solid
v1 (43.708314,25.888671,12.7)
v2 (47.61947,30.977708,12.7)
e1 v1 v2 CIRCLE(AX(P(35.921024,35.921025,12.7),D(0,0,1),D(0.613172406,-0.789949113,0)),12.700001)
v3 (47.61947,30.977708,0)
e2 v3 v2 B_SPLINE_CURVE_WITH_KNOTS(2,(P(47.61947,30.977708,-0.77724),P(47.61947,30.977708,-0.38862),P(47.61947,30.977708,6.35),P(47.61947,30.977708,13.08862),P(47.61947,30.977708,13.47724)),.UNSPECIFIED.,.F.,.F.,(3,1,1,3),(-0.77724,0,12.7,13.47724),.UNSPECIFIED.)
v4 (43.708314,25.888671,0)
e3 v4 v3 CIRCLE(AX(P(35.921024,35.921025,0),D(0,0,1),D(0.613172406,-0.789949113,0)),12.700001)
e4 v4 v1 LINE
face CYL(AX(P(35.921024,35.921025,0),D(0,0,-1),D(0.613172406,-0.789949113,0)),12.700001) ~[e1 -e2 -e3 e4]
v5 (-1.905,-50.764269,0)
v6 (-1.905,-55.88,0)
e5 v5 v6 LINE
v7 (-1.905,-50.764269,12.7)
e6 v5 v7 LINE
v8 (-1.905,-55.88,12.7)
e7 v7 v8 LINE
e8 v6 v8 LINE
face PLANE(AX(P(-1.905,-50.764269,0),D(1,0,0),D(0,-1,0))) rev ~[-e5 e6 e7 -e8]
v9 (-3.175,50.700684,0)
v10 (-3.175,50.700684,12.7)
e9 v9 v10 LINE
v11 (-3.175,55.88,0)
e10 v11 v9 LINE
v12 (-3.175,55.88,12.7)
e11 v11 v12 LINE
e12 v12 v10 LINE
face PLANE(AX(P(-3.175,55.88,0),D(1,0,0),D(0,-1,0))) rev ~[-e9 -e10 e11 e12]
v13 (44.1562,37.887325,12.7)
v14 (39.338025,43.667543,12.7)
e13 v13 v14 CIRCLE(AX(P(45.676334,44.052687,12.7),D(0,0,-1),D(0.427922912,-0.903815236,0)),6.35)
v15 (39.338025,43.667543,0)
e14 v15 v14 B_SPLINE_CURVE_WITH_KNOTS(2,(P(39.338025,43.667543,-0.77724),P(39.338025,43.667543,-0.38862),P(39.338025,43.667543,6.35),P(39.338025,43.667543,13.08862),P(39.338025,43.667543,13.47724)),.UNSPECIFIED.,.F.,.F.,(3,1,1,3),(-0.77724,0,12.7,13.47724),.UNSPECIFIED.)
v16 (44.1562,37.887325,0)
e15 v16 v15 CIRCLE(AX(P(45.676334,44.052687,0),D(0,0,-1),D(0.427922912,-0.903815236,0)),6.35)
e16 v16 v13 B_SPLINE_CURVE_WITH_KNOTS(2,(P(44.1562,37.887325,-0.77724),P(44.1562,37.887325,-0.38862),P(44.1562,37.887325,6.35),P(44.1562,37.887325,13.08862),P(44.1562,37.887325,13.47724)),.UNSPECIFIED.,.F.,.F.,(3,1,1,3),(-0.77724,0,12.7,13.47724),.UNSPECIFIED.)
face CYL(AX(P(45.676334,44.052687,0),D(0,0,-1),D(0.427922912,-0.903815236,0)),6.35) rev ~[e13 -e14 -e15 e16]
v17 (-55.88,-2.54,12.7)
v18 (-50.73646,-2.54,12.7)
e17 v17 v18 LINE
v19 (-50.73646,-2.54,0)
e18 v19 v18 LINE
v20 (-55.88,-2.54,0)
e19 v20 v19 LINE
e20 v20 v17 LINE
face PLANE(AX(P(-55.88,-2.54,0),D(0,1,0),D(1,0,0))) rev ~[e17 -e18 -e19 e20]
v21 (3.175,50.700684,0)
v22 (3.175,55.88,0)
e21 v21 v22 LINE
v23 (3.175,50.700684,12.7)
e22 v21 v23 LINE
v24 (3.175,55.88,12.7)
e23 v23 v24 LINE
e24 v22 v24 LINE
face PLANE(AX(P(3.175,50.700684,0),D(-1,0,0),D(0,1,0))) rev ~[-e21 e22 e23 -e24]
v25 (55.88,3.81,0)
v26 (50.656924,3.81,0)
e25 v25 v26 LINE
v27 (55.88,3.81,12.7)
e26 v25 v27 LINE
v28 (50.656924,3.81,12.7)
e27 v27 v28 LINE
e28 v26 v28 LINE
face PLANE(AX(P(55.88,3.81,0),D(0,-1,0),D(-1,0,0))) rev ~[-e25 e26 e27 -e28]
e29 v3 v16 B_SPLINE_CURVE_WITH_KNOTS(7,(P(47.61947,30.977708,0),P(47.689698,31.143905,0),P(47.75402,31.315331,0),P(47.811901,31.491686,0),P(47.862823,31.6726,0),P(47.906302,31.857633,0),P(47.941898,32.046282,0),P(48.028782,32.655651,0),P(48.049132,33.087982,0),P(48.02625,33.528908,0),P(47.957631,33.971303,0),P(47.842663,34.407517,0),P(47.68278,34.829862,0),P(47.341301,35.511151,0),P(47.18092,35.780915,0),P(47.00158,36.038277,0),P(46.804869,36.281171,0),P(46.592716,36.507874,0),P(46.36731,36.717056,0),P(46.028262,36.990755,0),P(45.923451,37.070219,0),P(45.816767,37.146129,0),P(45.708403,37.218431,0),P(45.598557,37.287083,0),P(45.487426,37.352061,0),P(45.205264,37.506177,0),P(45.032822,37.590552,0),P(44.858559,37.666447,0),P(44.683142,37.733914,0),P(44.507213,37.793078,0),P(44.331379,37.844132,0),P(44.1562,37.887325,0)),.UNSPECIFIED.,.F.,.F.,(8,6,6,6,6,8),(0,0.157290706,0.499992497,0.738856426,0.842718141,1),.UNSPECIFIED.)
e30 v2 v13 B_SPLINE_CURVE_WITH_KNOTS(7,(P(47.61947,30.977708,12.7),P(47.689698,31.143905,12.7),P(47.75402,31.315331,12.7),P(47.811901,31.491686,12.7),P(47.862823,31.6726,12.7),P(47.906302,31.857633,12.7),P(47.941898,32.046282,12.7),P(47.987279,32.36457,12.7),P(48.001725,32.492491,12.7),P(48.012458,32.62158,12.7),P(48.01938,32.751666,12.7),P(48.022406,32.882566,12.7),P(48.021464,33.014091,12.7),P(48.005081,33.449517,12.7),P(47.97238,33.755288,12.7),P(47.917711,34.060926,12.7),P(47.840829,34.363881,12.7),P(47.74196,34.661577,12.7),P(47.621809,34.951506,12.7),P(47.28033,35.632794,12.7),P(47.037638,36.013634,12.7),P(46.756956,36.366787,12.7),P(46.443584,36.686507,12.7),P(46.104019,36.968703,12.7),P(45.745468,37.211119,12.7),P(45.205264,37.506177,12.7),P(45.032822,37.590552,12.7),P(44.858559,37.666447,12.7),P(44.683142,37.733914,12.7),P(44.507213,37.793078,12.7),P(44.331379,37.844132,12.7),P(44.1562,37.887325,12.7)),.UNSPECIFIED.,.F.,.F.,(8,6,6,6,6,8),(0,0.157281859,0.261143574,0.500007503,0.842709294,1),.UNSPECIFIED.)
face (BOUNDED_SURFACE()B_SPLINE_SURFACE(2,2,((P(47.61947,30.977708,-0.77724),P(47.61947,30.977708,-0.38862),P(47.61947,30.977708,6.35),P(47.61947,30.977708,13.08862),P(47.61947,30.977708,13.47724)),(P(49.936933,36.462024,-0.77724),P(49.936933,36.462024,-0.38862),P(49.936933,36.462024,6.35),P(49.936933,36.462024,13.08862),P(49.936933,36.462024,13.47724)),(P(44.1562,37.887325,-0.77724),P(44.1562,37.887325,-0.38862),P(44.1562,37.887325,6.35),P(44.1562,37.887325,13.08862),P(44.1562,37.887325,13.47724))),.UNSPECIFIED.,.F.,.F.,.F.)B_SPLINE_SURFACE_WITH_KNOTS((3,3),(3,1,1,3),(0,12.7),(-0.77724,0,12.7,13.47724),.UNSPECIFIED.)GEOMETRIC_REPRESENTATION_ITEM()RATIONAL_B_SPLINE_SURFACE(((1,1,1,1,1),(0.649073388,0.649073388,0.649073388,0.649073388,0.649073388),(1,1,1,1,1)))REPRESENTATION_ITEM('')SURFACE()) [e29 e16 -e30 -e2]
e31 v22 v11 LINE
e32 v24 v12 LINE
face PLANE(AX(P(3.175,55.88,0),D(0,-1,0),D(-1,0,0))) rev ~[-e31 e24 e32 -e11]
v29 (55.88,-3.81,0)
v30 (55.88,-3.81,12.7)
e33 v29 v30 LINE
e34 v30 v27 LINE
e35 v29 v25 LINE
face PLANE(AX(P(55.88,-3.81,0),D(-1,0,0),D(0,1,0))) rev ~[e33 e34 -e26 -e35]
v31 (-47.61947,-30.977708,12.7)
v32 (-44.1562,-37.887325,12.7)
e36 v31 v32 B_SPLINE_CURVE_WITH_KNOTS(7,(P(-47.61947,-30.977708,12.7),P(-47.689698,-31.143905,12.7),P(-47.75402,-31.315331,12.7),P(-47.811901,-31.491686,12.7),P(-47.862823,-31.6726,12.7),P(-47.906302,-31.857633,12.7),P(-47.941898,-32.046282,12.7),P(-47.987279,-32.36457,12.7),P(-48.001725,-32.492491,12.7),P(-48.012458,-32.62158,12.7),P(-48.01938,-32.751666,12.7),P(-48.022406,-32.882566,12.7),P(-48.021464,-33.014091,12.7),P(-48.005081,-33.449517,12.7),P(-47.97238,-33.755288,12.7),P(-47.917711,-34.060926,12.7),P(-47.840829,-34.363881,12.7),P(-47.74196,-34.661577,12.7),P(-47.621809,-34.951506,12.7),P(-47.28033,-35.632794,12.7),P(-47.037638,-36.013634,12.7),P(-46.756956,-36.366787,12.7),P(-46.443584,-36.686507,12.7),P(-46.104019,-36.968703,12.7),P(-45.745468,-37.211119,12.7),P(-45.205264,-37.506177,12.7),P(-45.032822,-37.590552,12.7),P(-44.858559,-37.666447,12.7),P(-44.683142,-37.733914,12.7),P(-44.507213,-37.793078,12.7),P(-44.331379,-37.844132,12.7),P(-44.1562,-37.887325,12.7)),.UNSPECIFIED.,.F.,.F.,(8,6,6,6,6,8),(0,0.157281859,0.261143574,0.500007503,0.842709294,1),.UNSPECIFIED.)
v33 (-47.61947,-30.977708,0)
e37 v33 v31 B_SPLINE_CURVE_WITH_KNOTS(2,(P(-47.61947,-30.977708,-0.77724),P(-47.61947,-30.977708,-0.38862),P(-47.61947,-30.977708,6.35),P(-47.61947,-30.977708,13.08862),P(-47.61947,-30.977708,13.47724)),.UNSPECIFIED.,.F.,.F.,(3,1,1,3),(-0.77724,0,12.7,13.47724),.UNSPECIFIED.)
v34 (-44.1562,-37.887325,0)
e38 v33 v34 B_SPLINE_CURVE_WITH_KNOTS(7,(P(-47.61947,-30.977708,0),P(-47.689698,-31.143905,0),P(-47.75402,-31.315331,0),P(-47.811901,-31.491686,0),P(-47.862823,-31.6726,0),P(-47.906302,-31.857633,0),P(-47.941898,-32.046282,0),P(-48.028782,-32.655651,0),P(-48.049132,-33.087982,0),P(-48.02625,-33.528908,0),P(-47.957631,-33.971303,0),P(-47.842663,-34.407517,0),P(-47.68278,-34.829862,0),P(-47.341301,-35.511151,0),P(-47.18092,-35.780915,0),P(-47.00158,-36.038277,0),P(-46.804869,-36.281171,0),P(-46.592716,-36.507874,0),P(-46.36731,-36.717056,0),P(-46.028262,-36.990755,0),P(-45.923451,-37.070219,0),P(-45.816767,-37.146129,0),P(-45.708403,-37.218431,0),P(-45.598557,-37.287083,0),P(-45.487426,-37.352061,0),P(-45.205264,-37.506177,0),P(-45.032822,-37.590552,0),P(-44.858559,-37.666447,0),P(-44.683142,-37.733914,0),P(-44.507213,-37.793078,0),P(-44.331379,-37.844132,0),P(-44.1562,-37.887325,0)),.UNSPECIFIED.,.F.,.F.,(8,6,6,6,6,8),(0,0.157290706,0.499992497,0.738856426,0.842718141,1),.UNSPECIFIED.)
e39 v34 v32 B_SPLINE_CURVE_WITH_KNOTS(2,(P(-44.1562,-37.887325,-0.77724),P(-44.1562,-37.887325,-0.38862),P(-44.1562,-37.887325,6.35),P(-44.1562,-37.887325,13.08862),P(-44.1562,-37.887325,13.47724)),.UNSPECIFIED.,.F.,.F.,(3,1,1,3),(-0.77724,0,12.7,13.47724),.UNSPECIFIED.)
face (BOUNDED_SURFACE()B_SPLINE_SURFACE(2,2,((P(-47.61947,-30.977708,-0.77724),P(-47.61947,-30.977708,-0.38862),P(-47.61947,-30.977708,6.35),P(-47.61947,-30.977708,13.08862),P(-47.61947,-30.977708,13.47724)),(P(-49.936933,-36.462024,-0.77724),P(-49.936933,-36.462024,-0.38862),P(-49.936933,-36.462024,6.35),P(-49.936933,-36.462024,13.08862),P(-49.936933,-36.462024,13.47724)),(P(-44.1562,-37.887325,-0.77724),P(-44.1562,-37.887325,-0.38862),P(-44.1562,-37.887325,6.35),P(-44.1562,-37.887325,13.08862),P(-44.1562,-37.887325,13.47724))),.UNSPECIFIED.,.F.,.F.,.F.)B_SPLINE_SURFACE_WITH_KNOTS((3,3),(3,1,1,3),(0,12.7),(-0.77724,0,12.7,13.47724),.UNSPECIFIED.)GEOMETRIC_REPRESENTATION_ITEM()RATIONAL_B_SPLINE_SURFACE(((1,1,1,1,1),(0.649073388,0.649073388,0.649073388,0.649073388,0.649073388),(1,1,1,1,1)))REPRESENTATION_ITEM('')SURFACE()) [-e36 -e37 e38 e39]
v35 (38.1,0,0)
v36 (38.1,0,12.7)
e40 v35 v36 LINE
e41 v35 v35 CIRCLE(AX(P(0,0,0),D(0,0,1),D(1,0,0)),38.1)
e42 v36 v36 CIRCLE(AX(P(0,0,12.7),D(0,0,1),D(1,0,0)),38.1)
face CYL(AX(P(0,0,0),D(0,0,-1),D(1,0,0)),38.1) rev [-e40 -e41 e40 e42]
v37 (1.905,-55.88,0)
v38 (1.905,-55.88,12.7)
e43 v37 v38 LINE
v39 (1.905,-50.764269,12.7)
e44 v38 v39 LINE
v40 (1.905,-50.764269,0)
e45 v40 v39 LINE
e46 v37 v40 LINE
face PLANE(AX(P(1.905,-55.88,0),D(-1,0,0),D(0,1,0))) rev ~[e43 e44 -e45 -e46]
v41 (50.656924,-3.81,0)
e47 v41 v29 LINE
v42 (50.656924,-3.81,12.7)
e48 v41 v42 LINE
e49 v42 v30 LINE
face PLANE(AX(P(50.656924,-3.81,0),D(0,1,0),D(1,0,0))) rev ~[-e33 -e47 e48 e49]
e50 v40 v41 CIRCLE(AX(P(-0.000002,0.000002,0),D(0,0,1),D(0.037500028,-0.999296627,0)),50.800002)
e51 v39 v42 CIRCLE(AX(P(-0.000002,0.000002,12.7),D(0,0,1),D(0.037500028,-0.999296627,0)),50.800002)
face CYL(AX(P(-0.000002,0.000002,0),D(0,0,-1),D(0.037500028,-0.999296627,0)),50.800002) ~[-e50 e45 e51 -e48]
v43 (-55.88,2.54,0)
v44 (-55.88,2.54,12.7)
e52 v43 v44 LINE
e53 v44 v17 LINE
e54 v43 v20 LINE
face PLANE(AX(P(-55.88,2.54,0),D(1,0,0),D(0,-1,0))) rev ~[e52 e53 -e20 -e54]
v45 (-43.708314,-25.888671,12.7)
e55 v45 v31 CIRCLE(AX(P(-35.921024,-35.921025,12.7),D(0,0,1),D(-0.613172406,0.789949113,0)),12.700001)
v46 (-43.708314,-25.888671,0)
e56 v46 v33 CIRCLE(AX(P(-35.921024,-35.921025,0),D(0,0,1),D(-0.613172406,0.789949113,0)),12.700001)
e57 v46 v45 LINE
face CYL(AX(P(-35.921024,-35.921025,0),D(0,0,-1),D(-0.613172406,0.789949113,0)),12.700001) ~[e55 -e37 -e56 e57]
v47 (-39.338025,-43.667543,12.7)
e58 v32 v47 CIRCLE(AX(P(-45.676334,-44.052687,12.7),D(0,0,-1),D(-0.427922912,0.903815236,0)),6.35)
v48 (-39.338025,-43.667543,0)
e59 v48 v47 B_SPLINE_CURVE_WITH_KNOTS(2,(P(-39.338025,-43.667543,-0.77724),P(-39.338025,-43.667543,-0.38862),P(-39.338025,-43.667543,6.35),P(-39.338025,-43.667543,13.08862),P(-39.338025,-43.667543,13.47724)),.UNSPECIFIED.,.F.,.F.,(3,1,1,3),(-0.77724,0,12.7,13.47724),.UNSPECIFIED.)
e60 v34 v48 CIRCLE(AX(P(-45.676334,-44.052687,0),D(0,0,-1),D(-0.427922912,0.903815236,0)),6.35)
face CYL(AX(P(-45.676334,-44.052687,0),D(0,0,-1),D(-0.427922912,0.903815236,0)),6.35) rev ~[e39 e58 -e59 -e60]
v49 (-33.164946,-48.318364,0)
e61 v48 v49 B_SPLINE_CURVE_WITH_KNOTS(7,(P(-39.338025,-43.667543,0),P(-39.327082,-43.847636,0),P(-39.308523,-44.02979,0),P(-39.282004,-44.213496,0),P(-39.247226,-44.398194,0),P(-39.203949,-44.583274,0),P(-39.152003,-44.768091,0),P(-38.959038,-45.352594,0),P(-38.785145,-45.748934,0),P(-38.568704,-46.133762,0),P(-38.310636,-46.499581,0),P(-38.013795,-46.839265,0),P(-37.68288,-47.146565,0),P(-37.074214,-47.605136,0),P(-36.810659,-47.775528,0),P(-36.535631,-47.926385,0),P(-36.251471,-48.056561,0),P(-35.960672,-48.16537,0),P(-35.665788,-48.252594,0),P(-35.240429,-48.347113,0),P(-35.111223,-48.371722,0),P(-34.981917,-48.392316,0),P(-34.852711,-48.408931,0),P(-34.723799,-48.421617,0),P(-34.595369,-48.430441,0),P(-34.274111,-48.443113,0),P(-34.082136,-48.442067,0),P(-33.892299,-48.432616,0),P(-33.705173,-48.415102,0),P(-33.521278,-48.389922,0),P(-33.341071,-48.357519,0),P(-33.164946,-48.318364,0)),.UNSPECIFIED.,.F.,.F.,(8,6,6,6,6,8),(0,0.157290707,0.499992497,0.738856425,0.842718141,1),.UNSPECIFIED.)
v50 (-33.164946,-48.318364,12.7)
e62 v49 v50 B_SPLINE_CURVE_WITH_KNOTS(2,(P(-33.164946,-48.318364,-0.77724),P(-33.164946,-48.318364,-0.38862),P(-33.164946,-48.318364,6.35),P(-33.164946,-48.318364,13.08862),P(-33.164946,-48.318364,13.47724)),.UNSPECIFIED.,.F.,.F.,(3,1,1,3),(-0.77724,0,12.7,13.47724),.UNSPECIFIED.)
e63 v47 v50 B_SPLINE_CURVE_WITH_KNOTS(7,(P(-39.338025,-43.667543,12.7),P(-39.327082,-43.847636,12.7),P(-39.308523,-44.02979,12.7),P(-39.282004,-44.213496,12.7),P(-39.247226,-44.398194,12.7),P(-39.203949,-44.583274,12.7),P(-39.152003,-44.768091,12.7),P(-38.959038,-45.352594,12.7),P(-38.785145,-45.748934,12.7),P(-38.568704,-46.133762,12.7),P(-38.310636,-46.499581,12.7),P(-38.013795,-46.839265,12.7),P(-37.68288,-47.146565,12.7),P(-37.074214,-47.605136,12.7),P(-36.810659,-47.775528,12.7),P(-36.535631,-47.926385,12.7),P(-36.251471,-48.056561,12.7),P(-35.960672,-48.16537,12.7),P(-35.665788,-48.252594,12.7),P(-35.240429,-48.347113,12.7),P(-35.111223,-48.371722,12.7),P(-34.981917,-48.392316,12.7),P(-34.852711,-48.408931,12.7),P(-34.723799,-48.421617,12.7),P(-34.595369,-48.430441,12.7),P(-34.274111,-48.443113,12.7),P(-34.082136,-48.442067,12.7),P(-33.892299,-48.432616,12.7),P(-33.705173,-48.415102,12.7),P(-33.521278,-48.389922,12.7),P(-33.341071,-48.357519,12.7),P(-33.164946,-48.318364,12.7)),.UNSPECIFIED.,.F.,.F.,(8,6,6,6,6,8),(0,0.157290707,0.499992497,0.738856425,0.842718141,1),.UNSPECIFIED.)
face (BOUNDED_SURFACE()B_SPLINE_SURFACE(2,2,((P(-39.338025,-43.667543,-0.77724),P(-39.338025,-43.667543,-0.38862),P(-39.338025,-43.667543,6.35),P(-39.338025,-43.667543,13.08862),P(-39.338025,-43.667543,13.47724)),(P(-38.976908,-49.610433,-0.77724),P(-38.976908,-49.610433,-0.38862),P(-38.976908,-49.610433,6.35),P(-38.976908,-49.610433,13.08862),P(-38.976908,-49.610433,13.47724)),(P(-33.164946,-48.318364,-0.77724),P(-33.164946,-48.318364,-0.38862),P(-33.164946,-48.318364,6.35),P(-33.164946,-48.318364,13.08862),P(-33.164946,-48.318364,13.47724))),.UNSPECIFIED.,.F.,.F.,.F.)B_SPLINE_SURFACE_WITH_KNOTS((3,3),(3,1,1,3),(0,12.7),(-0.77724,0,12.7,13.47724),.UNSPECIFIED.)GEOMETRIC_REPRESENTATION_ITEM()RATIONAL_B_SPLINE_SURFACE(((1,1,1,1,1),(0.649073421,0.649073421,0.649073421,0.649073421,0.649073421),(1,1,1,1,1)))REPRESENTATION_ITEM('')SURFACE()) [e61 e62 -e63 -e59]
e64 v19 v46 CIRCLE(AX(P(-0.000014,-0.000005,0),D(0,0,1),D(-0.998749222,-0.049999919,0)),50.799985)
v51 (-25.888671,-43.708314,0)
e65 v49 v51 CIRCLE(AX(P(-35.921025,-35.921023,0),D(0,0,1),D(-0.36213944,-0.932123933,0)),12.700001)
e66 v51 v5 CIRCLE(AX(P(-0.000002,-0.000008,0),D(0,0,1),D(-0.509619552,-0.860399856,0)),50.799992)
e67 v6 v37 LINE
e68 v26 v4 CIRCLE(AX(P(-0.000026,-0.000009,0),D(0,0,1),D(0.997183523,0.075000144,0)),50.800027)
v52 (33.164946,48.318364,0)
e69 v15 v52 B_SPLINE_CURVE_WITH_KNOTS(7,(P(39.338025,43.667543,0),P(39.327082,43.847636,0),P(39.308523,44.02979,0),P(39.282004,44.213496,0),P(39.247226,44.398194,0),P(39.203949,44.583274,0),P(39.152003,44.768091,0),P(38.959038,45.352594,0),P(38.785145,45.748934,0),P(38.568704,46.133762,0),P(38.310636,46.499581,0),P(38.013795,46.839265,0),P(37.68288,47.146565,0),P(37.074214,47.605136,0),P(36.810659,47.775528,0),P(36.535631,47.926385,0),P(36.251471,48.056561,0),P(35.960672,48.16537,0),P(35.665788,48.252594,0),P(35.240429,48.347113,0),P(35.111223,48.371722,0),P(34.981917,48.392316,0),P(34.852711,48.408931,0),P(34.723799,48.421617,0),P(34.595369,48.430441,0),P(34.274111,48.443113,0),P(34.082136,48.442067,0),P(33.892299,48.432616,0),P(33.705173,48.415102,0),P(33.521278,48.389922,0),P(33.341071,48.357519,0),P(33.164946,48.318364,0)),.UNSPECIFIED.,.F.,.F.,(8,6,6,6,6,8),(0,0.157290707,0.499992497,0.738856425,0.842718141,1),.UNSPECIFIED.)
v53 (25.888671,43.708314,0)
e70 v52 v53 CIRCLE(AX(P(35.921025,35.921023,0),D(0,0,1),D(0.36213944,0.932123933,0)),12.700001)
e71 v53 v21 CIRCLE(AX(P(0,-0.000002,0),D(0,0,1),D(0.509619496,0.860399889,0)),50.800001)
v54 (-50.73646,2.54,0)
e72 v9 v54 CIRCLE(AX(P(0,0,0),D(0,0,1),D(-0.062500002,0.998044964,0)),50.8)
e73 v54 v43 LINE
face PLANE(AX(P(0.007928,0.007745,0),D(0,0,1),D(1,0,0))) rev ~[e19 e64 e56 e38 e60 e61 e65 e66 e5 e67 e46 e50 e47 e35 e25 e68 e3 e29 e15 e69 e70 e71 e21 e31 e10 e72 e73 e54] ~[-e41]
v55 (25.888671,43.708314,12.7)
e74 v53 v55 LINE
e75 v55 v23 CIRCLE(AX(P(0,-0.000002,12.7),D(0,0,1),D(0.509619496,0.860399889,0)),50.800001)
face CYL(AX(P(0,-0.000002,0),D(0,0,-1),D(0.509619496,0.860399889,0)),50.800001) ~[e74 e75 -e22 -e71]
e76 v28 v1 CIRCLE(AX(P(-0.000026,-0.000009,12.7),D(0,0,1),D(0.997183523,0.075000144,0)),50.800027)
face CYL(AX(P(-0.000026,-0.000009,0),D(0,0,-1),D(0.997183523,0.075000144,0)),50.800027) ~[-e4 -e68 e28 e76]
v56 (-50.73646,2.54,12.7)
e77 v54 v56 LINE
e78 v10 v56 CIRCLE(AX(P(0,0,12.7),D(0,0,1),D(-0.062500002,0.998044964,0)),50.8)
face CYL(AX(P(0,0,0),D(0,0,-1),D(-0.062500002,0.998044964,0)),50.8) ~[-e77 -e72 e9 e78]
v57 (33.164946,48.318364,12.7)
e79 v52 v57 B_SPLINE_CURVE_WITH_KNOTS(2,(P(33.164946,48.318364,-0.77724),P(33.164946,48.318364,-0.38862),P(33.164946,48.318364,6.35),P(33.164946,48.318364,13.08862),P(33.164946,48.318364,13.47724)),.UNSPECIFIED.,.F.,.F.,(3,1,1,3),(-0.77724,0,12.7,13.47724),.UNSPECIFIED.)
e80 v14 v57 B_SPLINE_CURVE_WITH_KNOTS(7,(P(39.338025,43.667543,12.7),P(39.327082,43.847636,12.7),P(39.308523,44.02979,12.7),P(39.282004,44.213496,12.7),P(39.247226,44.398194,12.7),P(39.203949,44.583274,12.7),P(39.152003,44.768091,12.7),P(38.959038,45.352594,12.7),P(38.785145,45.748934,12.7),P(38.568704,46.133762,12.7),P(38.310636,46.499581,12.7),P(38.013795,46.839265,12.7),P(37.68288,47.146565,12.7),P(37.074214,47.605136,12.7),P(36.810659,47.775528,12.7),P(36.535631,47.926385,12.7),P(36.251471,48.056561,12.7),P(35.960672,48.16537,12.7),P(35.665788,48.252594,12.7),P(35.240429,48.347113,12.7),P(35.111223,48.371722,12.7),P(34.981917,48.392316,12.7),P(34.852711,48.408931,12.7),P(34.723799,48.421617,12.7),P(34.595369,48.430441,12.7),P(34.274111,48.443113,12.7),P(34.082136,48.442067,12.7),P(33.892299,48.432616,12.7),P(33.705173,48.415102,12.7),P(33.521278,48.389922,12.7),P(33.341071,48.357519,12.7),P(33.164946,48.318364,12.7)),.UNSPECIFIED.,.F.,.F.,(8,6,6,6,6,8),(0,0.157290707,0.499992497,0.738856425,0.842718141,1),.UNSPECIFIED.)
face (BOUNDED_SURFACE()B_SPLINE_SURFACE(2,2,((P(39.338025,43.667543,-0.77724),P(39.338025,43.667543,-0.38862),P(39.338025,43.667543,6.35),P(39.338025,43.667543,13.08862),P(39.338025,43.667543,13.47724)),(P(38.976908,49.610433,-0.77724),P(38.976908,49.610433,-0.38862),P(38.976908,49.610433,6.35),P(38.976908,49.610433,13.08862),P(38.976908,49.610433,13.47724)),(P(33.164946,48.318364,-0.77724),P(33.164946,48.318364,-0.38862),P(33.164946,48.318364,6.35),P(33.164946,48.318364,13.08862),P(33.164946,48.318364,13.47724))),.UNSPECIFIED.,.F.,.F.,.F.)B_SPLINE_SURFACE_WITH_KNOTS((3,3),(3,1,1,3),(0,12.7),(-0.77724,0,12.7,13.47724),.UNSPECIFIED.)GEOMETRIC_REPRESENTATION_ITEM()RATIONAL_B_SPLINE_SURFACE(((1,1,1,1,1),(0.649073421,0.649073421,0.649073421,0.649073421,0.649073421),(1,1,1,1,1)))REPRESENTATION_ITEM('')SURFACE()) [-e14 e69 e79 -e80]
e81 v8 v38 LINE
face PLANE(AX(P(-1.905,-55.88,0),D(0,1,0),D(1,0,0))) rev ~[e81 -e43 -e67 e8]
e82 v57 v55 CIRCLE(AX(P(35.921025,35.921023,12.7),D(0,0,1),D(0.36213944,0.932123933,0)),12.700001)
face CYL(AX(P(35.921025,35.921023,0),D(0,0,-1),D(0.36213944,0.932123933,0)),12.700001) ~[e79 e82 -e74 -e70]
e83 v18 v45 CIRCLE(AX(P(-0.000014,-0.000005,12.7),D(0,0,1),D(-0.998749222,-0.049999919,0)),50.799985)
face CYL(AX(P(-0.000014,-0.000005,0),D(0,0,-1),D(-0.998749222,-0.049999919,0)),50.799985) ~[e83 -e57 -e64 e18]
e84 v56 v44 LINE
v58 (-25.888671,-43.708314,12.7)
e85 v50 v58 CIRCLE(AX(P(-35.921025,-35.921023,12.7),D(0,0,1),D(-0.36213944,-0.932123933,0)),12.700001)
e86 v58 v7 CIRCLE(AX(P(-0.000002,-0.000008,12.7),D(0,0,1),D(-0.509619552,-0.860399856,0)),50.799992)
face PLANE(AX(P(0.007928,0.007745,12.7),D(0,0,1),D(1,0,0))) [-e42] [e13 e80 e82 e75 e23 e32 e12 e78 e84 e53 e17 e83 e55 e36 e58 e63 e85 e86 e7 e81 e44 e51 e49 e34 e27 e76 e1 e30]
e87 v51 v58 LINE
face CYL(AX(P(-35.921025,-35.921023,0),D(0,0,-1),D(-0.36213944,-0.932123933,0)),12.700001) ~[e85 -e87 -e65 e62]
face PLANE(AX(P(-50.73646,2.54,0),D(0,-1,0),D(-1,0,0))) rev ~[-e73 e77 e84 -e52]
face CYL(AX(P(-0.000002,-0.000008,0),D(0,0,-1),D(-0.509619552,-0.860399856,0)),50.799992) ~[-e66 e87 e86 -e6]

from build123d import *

# Parameters (mm, degrees)
F0_R     = 38.1
F1_DEPTH = 12.7
F2_R     = 5.08


with BuildPart() as f1:
    # F0 (on Top) → F1 (new body)
    with BuildSketch(Plane.XY):
        with BuildLine():
            ThreePointArc((50.656924, -3.81), (50.764218, -1.906343), (50.8, 0))
            ThreePointArc((50.8, 0), (50.764218, 1.906343), (50.656924, 3.81))
            ThreePointArc((50.656924, 3.81), (48.456851, 15.250362), (43.708314, 25.888671))
            ThreePointArc((43.708314, 25.888671), (35.921024, 35.921024), (25.888671, 43.708314))
            ThreePointArc((25.888671, 43.708314), (14.94649, 48.551441), (3.175, 50.700684))
            ThreePointArc((3.175, 50.700684), (0, 50.8), (-3.175, 50.700684))
            ThreePointArc((-3.175, 50.700684), (-36.145183, 35.695458), (-50.73646, 2.54))
            ThreePointArc((-50.73646, 2.54), (-50.8, 0), (-50.73646, -2.54))
            ThreePointArc((-50.73646, -2.54), (-48.644054, -14.642269), (-43.708314, -25.888671))
            ThreePointArc((-43.708314, -25.888671), (-35.921024, -35.921024), (-25.888671, -43.708314))
            ThreePointArc((-25.888671, -43.708314), (-14.337666, -48.734704), (-1.905, -50.764269))
            ThreePointArc((-1.905, -50.764269), (0, -50.8), (1.905, -50.764269))
            ThreePointArc((1.905, -50.764269), (35.240102, -36.589277), (50.656924, -3.81))
        make_face()
        Circle(F0_R, mode=Mode.SUBTRACT)
        with BuildLine():
            ThreePointArc((50.656924, 3.81), (50.764218, 1.906343), (50.8, 0))
            ThreePointArc((50.8, 0), (50.764218, -1.906343), (50.656924, -3.81))
            Line((50.656924, -3.81), (55.88, -3.81))
            Line((55.88, -3.81), (55.88, 3.81))
            Line((55.88, 3.81), (50.656924, 3.81))
        make_face()
        with BuildLine():
            ThreePointArc((25.888671, 43.708314), (35.921024, 35.921024), (43.708314, 25.888671))
            ThreePointArc((43.708314, 25.888671), (47.804199, 31.439935), (48.393645, 38.31346))
            ThreePointArc((48.393645, 38.31346), (40.798679, 39.986856), (40.520196, 47.758998))
            ThreePointArc((40.520196, 47.758998), (32.532533, 48.160637), (25.888671, 43.708314))
        make_face()
        with BuildLine():
            Line((1.905, -55.88), (1.905, -50.764269))
            ThreePointArc((1.905, -50.764269), (0, -50.8), (-1.905, -50.764269))
            Line((-1.905, -50.764269), (-1.905, -55.88))
            Line((-1.905, -55.88), (1.905, -55.88))
        make_face()
        with BuildLine():
            ThreePointArc((-3.175, 50.700684), (0, 50.8), (3.175, 50.700684))
            Line((3.175, 50.700684), (3.175, 55.88))
            Line((3.175, 55.88), (-3.175, 55.88))
            Line((-3.175, 55.88), (-3.175, 50.700684))
        make_face()
        with BuildLine():
            ThreePointArc((-40.520196, -47.758998), (-32.532533, -48.160637), (-25.888671, -43.708314))
            ThreePointArc((-25.888671, -43.708314), (-35.921024, -35.921024), (-43.708314, -25.888671))
            ThreePointArc((-43.708314, -25.888671), (-47.804199, -31.439935), (-48.393645, -38.31346))
            ThreePointArc((-48.393645, -38.31346), (-40.798679, -39.986856), (-40.520196, -47.758998))
        make_face()
        with BuildLine():
            ThreePointArc((-50.73646, -2.54), (-50.8, 0), (-50.73646, 2.54))
            Line((-50.73646, 2.54), (-55.88, 2.54))
            Line((-55.88, 2.54), (-55.88, -2.54))
            Line((-55.88, -2.54), (-50.73646, -2.54))
        make_face()
    extrude(amount=F1_DEPTH)

    # F2
    f2_edges = [f1.edges().sort_by_distance(p)[0] for p in [
        (-48.393645, -38.31346, 6.35),
        (-40.520196, -47.758998, 6.35),
        (40.520196, 47.758998, 6.35),
        (48.393645, 38.31346, 6.35),
    ]]
    fillet(f2_edges, radius=F2_R)


solid = f1.part
